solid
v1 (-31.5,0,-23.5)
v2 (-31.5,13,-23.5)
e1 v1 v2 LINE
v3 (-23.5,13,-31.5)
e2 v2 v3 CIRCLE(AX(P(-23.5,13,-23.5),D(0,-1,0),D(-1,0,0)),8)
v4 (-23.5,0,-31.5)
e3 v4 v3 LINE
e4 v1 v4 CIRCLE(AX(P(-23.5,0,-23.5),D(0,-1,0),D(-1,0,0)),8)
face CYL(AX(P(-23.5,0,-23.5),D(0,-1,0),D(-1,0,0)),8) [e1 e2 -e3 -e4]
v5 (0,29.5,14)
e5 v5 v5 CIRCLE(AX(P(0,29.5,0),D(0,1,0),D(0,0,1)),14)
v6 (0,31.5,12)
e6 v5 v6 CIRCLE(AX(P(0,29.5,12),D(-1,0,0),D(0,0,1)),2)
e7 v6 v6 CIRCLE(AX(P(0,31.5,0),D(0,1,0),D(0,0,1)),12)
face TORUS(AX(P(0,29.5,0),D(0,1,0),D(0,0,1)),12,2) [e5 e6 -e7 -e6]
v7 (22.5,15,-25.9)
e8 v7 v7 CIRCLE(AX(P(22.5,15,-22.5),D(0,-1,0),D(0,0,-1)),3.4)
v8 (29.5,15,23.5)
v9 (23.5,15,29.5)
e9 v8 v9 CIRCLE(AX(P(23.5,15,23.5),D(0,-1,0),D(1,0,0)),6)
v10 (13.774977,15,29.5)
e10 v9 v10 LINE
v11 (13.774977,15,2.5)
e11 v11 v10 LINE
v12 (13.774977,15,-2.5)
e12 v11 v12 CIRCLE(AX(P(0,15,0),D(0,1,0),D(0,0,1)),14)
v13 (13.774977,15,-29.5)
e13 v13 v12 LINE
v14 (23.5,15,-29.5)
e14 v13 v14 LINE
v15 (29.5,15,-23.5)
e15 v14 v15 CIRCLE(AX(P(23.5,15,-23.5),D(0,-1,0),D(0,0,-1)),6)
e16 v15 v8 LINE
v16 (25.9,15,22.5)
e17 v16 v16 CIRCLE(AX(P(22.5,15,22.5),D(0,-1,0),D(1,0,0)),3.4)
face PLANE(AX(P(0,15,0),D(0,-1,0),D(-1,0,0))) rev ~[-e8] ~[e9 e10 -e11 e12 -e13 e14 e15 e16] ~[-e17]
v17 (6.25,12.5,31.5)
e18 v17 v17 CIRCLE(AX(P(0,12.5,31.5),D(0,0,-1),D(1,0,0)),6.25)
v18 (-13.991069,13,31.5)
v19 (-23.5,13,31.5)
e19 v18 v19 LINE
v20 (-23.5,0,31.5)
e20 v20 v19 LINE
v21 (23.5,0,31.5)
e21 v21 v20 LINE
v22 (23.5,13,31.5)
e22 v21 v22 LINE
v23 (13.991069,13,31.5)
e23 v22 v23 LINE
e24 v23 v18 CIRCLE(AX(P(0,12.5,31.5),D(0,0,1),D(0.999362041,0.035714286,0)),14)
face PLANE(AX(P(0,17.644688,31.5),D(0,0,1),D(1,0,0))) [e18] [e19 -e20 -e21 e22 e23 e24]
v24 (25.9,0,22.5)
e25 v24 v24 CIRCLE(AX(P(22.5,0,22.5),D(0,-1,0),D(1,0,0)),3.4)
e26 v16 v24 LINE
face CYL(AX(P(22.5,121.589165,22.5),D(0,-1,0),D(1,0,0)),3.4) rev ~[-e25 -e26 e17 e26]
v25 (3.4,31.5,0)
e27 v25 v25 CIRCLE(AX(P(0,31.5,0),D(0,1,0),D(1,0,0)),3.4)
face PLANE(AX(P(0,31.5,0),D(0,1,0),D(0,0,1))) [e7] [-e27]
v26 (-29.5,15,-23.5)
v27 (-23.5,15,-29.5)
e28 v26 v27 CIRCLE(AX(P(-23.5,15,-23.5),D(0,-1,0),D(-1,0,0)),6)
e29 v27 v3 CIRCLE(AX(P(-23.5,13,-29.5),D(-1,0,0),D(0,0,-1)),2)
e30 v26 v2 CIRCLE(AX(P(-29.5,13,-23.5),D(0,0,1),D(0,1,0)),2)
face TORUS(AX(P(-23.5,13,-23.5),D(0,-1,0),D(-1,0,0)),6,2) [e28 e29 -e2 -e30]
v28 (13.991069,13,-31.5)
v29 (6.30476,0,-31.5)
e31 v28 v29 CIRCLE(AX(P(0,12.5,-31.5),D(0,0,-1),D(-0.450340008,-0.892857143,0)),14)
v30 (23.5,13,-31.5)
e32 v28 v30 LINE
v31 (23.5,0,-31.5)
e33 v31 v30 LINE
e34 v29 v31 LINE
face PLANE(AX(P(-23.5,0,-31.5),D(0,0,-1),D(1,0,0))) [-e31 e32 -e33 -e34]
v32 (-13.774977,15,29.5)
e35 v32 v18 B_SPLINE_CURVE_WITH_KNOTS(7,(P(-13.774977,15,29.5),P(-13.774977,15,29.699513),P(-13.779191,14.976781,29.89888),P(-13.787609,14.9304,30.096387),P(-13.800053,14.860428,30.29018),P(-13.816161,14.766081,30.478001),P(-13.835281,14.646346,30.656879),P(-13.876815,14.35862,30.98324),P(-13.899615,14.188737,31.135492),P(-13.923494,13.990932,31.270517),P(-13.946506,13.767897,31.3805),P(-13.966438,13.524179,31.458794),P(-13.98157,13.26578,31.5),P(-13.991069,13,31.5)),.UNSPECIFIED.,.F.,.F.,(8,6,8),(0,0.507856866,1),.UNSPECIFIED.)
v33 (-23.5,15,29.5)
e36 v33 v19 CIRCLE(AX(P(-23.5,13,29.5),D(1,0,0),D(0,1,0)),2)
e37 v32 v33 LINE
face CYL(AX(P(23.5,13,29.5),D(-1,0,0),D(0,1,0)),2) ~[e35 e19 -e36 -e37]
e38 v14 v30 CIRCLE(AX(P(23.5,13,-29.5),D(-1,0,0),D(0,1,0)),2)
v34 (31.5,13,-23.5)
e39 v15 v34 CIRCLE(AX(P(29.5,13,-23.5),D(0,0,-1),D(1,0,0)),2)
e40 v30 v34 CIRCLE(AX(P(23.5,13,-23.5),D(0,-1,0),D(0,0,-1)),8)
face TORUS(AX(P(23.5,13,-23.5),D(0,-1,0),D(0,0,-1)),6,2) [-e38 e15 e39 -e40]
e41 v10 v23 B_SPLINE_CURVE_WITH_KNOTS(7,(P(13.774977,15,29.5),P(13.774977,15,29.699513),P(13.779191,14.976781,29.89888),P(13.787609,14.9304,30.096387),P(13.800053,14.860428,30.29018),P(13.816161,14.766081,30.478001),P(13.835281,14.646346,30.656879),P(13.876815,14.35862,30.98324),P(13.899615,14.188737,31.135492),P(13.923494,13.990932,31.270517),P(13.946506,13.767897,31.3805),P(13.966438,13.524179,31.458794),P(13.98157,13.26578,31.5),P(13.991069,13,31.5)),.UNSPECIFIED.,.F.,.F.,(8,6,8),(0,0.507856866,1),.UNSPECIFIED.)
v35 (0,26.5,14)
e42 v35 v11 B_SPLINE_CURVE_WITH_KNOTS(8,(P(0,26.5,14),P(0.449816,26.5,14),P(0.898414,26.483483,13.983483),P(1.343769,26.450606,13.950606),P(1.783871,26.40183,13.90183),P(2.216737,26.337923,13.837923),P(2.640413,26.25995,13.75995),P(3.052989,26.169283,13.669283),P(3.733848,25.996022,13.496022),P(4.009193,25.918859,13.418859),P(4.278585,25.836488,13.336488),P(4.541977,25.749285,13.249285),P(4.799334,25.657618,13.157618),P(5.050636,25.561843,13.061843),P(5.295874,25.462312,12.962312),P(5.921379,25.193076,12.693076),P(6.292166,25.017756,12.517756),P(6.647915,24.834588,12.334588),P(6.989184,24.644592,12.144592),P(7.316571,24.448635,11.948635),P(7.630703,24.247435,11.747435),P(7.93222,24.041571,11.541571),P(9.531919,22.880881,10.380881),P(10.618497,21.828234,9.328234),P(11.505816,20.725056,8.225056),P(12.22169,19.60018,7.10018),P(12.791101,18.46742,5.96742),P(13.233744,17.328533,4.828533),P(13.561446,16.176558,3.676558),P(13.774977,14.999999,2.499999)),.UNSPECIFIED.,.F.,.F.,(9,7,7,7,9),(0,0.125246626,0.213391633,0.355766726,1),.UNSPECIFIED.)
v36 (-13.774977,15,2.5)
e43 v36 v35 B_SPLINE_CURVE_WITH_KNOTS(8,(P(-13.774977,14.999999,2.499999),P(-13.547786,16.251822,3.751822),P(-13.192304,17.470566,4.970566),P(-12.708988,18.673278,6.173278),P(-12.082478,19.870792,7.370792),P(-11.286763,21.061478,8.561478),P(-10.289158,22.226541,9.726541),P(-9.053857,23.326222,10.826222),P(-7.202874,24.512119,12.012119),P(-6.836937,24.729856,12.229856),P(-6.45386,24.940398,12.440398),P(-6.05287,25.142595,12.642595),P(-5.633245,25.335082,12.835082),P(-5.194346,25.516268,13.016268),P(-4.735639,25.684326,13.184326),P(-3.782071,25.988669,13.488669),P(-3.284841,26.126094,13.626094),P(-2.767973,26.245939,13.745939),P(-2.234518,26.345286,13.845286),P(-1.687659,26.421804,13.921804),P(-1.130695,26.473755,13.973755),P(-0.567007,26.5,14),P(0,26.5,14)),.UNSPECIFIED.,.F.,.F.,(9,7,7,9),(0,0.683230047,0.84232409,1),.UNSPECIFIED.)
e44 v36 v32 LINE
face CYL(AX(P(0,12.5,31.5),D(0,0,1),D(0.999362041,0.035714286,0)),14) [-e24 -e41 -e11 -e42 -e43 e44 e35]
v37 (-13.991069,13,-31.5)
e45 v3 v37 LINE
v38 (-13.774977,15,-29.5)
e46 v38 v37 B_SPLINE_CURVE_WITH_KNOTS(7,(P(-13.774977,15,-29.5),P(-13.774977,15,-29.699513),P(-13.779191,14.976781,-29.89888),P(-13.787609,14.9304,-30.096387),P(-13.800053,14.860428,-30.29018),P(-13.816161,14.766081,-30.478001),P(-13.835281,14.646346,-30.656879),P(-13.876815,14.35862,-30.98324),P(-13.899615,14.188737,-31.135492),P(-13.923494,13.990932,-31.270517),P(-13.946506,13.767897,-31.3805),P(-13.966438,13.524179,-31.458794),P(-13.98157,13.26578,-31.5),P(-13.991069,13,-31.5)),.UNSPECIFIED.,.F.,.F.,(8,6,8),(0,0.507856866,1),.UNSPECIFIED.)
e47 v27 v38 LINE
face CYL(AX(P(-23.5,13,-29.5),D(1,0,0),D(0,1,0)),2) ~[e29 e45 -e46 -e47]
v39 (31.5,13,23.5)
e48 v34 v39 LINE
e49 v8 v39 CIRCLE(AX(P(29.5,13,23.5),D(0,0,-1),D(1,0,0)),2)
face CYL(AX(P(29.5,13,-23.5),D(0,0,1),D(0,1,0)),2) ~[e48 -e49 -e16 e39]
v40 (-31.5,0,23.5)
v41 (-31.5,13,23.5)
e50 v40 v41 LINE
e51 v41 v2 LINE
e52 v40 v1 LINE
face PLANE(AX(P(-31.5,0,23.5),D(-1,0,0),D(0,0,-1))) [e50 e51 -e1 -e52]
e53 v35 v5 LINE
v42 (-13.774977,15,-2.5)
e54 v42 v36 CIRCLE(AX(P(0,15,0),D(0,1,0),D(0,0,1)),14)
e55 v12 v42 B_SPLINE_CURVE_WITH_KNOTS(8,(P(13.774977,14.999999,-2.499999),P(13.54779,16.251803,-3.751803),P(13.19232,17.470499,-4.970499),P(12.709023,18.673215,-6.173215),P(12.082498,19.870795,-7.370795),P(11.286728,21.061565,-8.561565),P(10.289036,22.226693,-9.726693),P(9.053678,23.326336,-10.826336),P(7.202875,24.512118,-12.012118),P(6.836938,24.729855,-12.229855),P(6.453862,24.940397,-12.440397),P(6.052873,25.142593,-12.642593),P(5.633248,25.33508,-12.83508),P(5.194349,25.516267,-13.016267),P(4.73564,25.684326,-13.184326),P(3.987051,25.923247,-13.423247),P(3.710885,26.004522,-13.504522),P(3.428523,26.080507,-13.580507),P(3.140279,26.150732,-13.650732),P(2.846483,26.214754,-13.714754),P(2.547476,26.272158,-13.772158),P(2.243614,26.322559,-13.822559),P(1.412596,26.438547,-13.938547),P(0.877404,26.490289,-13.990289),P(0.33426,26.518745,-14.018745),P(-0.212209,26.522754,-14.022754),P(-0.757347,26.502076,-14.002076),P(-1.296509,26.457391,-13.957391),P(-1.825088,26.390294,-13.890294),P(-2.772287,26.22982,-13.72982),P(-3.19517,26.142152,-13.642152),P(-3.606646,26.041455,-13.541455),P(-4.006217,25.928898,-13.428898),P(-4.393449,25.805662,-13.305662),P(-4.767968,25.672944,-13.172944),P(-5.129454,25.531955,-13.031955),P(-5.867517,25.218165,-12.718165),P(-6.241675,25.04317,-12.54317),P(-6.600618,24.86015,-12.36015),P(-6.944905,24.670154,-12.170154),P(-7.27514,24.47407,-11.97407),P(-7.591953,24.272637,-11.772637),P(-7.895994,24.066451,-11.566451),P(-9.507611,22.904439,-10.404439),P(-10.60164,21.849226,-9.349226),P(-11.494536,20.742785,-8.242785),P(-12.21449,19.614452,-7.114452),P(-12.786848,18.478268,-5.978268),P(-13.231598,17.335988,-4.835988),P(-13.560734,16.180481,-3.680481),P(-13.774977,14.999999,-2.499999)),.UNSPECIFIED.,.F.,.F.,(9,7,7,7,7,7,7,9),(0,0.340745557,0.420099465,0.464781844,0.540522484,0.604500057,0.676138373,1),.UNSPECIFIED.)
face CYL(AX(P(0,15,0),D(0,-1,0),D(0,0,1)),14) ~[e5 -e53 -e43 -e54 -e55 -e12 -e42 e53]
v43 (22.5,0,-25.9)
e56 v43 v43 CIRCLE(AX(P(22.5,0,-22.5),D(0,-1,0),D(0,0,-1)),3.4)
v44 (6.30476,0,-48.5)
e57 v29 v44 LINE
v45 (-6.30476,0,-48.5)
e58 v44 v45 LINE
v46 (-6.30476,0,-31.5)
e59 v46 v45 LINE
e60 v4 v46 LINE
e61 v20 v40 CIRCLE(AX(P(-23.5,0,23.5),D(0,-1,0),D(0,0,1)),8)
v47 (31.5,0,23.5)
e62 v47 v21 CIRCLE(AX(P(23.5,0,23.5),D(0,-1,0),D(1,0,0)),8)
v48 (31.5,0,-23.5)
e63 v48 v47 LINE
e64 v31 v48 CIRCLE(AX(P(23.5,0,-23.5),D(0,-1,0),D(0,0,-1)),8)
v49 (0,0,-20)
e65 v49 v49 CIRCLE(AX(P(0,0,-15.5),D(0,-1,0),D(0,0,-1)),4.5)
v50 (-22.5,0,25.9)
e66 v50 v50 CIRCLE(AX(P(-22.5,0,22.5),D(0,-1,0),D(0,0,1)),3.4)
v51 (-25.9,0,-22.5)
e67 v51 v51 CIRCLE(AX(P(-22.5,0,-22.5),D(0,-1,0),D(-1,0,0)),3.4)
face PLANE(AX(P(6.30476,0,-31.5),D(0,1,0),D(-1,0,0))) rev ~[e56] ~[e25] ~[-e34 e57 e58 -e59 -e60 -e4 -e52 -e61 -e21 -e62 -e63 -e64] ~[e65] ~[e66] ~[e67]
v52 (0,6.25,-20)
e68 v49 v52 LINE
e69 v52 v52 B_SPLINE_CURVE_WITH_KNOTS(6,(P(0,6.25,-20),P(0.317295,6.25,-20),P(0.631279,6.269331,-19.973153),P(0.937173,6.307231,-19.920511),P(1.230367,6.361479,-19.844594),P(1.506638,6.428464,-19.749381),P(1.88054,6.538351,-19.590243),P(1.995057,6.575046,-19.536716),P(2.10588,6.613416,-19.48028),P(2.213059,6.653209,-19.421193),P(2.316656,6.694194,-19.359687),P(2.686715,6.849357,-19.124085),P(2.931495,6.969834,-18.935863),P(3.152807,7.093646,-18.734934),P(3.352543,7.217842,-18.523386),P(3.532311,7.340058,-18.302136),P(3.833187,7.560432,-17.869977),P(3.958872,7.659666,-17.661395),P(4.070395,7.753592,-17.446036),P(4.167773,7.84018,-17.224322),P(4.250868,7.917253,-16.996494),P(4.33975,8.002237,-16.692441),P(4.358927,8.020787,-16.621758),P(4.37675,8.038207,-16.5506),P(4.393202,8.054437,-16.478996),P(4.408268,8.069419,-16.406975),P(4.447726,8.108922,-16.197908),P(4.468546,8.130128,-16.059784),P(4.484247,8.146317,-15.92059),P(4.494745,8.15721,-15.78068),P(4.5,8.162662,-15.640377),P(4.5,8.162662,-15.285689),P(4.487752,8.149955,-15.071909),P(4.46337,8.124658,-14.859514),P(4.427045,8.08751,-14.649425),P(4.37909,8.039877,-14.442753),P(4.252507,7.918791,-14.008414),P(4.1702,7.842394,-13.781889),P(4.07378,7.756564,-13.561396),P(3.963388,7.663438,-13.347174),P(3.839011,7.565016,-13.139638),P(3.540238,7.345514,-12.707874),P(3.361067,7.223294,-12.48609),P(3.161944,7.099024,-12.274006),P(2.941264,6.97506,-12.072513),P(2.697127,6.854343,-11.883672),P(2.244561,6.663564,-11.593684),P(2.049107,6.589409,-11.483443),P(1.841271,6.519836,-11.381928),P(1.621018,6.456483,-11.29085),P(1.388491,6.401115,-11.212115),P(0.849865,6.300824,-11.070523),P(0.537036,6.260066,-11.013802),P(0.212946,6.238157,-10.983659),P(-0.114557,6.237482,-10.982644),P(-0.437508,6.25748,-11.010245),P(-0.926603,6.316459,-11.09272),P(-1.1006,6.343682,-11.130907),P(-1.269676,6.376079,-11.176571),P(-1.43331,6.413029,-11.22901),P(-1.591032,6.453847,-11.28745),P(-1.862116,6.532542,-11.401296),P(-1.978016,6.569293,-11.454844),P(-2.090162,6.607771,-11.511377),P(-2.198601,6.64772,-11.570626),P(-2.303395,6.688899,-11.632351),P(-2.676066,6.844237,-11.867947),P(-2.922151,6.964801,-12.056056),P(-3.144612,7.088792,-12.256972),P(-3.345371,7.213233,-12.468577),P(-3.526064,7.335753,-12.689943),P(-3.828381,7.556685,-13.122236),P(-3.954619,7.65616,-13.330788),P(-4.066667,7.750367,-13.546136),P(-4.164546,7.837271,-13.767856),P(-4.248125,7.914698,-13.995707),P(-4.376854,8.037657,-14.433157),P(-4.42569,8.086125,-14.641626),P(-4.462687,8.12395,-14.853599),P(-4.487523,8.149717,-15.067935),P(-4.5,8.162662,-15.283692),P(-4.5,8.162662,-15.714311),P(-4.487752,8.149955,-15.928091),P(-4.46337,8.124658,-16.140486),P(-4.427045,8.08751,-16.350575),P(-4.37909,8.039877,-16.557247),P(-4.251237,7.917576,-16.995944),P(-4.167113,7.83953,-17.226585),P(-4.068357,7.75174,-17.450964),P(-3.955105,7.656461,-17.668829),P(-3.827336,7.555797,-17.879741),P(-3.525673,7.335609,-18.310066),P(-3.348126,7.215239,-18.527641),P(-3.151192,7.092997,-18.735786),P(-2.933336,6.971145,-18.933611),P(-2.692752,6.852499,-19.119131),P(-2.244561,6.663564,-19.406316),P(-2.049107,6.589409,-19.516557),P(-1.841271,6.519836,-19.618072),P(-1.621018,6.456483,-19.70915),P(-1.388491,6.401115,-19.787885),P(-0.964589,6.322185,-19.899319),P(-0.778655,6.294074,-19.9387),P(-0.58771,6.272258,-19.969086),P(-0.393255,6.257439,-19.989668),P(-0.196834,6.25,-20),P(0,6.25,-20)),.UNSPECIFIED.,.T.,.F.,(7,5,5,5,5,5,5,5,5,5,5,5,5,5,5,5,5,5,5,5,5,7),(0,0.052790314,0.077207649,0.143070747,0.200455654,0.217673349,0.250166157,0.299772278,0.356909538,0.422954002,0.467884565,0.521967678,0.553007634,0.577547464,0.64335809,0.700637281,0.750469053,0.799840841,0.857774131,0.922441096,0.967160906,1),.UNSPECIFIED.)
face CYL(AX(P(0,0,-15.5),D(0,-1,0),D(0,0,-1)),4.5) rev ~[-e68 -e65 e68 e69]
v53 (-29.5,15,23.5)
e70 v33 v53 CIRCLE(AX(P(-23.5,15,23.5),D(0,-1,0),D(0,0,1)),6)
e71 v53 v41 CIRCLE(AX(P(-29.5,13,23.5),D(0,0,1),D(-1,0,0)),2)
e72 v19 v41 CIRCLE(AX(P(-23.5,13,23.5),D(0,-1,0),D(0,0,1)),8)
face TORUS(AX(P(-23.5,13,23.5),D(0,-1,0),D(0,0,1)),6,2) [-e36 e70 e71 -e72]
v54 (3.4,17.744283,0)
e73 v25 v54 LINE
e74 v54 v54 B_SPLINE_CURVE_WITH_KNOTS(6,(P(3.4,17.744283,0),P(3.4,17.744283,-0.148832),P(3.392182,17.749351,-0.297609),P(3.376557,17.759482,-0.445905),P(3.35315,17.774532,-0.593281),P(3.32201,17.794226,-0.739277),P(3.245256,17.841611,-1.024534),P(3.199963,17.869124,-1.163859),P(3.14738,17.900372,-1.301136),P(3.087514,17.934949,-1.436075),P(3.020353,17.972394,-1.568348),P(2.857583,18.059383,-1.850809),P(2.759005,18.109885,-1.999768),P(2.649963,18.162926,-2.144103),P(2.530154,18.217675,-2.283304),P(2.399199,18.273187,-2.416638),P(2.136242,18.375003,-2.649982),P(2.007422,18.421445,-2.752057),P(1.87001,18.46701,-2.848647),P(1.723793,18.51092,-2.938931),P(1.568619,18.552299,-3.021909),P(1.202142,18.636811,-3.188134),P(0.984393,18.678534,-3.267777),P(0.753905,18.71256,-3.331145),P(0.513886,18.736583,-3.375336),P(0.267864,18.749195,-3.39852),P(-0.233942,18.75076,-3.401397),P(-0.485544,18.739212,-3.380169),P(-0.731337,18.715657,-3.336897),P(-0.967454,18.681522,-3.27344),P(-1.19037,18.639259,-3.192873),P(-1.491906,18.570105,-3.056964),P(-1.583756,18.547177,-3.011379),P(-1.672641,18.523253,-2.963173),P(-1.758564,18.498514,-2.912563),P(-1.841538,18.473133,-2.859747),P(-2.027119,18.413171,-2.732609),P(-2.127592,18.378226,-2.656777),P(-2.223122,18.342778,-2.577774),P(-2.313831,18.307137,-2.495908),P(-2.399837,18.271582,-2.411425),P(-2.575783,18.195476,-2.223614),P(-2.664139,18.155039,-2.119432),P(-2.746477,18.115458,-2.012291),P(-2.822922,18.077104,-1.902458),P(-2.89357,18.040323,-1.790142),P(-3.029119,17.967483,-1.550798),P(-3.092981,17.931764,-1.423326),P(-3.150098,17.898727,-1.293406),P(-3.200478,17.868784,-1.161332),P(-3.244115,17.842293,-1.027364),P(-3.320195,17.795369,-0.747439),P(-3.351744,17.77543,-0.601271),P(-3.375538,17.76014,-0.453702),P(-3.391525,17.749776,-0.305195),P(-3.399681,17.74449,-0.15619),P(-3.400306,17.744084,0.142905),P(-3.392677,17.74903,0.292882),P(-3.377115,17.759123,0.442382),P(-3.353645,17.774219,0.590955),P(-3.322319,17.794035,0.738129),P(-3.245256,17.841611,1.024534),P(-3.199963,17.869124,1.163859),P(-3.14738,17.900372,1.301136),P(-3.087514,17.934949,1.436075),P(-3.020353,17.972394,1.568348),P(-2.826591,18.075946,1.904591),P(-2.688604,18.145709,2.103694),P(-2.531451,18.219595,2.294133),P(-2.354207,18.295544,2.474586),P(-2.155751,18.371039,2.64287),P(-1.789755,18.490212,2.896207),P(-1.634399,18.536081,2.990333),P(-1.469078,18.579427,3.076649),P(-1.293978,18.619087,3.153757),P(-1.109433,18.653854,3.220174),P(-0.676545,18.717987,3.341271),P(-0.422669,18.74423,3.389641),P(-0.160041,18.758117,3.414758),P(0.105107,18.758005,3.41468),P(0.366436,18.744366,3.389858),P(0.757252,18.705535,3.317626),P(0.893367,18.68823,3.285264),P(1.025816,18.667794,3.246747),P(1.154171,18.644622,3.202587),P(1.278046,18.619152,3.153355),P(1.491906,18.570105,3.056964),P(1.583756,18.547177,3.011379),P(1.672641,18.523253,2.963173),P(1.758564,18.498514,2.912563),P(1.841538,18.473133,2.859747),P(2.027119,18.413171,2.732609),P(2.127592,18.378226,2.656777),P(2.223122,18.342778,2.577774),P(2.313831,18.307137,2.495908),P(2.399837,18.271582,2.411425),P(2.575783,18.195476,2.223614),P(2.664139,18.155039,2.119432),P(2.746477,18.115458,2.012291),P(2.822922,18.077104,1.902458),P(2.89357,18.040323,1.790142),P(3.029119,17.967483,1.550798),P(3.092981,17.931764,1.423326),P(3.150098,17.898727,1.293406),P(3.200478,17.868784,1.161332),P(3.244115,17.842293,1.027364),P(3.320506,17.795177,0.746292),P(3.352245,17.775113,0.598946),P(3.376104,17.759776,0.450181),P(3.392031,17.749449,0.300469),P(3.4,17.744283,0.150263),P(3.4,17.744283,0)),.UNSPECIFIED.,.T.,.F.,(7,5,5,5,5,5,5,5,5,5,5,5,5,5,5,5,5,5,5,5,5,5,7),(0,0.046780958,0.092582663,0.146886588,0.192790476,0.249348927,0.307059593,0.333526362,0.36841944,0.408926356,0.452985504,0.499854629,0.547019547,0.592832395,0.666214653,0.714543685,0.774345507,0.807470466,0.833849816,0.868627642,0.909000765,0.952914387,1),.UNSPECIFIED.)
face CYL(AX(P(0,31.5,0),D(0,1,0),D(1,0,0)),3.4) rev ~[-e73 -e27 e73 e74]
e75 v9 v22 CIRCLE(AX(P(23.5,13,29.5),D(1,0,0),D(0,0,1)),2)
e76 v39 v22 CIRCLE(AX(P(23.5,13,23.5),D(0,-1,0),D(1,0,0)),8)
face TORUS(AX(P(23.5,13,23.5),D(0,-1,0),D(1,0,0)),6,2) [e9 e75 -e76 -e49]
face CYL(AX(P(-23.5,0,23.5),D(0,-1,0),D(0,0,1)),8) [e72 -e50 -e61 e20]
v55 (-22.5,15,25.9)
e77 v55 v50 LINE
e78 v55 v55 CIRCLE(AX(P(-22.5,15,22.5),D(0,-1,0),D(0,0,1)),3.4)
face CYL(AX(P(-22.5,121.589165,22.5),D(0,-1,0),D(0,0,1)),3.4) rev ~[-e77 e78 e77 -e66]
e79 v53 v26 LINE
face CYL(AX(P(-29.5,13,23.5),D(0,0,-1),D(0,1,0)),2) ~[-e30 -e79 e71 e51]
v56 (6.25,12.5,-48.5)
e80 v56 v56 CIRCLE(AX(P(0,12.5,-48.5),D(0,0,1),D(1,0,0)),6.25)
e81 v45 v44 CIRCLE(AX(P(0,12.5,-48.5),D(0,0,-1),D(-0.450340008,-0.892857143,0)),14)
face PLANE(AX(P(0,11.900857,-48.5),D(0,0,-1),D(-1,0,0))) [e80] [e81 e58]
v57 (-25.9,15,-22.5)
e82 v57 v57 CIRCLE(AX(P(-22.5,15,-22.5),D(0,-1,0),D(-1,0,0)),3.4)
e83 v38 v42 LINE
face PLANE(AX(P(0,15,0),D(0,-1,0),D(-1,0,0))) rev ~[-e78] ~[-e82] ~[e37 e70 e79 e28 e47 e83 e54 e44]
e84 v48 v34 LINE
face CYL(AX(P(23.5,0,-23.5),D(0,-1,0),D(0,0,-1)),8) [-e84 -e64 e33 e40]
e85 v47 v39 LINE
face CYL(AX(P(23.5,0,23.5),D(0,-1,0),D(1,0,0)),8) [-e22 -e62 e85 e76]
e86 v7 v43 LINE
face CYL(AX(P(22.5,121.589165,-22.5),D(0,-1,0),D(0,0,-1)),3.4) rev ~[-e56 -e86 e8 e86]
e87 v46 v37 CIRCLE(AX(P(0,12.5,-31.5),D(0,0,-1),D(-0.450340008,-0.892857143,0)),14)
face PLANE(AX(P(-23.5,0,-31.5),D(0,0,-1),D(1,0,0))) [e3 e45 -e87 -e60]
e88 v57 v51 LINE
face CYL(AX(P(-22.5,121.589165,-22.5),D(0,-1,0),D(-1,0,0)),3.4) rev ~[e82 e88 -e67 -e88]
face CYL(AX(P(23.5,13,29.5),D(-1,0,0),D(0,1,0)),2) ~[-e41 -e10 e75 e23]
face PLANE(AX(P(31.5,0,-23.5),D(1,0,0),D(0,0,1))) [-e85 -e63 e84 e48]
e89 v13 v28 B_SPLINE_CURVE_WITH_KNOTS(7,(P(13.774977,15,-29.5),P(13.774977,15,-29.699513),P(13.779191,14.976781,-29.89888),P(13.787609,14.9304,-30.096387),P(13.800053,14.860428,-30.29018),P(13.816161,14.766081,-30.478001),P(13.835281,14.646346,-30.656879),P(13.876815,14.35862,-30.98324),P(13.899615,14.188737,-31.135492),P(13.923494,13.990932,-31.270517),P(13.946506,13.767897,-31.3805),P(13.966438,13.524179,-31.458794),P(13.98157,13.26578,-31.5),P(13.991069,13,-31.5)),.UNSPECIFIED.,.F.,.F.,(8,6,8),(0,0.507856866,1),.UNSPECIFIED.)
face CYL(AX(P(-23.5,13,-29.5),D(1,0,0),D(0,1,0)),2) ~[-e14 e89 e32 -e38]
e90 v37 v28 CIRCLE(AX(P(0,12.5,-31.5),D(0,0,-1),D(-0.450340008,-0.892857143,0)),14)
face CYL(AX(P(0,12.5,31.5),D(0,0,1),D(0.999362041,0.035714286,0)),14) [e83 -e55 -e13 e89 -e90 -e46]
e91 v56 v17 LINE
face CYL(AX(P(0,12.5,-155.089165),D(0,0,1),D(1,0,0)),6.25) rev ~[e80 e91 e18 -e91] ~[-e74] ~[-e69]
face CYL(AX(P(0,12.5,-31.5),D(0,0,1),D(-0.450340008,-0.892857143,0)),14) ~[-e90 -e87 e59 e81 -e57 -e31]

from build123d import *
from build123d.topology import SkipClean

# Parameters (mm, degrees)
EXTRUDE_1_DEPTH          = 15
SKETCH_2_R               = 14
EXTRUDE_2_DEPTH          = 16.5
FILLET_1_R               = 2
EXTRUDE_3_DEPTH          = 17
EXTRUDE_START            = 63
EXTRUDE_4_DEPTH          = 63
M14X1_5_1_D              = 12.5
HOLE_WIZARD_M8_1_REACH   = 67.854
HOLE_WIZARD_M8_1_BORE_R  = 3.4
CUT_EXTRUDE_1_REACH      = 67.854
CUT_EXTRUDE_1_END_RADIUS = 6.25
SKETCH_9_R               = 4.5
HOLE_WIZARD_M8_2_D       = 6.8
PATTERN_CIRCULAR_1_COUNT = 4


with BuildPart() as part:
    # 草图1 → 凸台-拉伸1 (new body)
    with BuildSketch(Plane(origin=(0, 0, 0), x_dir=(1, 0, 0), z_dir=(0, 1, 0))):
        with BuildLine():
            Line((-23.5, 31.5), (23.5, 31.5))
            ThreePointArc((23.5, 31.5), (29.156854249, 29.156854249), (31.5, 23.5))
            Line((31.5, 23.5), (31.5, -23.5))
            ThreePointArc((31.5, -23.5), (29.156854249, -29.156854249), (23.5, -31.5))
            Line((23.5, -31.5), (-23.5, -31.5))
            ThreePointArc((-23.5, -31.5), (-29.156854249, -29.156854249), (-31.5, -23.5))
            Line((-31.5, -23.5), (-31.5, 23.5))
            ThreePointArc((-31.5, 23.5), (-29.156854249, 29.156854249), (-23.5, 31.5))
        make_face()
    extrude(amount=EXTRUDE_1_DEPTH)

    # 草图2 → 凸台-拉伸2 (add)
    with BuildSketch(Plane(origin=(0, 15, 0), x_dir=(1, 0, 0), z_dir=(0, 1, 0))):
        with Locations(Location((0, 0, 0), (0, 0, 270))):
            Circle(SKETCH_2_R)
    extrude(amount=EXTRUDE_2_DEPTH)

    # 圆角1
    fillet_1_edges = [part.edges().sort_by_distance(p)[0] for p in [
        (29.156854249, 15, 29.156854249),
        (31.5, 15, 0),
        (29.156854249, 15, -29.156854249),
        (0, 15, -31.5),
        (0, 31.5, -14),
        (-29.156854249, 15, -29.156854249),
        (-31.5, 15, 0),
        (-29.156854249, 15, 29.156854249),
        (0, 15, 31.5),
    ]]
    fillet(fillet_1_edges, radius=FILLET_1_R)

    # 草图3 → 凸台-拉伸3 (add)
    with BuildSketch(Plane(origin=(0, 0, -31.5), x_dir=(-1, 0, 0), z_dir=(0, 0, -1))):
        with BuildLine():
            Line((-6.304760106, 0), (6.304760106, 0))
            ThreePointArc((6.304760106, 0), (0, 26.5), (-6.304760106, 0))
        make_face()
    extrude(amount=EXTRUDE_3_DEPTH)

    # 草图4 → 凸台-拉伸4 (add)
    with SkipClean():  # the faces are left unmerged after this step: merging them gives an invalid solid
        with BuildSketch(Plane.XY.offset(-31.5).offset(EXTRUDE_START)):
            with BuildLine():
                Line((-13.99106858, 13), (13.99106858, 13))
                ThreePointArc((13.99106858, 13), (0, 26.5), (-13.99106858, 13))
            make_face()
        extrude(amount=-EXTRUDE_4_DEPTH)

    # M14x1.5 螺纹孔1 (through all)
    with Locations(Plane(origin=(0, 0, -48.5), x_dir=(-1, 0, 0), z_dir=(0, 0, -1))):
        with Locations((0, 12.5)):
            Hole(M14X1_5_1_D / 2)

    # M8 螺纹孔1 bore → M8 螺纹孔1 (cut, up to next)
    with BuildSketch(Plane(origin=(0, 31.5, 0), x_dir=(1, 0, 0), z_dir=(0, 1, 0)), mode=Mode.PRIVATE) as hole_wizard_m8_1_sk1:
        Circle(HOLE_WIZARD_M8_1_BORE_R)
    hole_wizard_m8_1_tool1 = extrude(hole_wizard_m8_1_sk1.sketch, amount=-HOLE_WIZARD_M8_1_REACH, mode=Mode.PRIVATE) & part.part
    add(hole_wizard_m8_1_tool1.solids().sort_by_distance((0, 31.5, 0))[0], mode=Mode.SUBTRACT)

    # 切除-拉伸1: up to this cylinder (the profile starts outside it)
    with SkipClean():  # the faces are left unmerged after this step: merging them gives an invalid solid
        cut_extrude_1_end = Plane(origin=(0, 12.5, -15.5), z_dir=(0, 0, -1)) * Cylinder(CUT_EXTRUDE_1_END_RADIUS, 149.208, mode=Mode.PRIVATE)
        # 草图9 → 切除-拉伸1 (cut, up to the surface)
        with BuildSketch(Plane.XZ, mode=Mode.PRIVATE) as cut_extrude_1_sk1:
            with Locations(Location((0, -15.5, 0), (0, 0, 270))):
                Circle(SKETCH_9_R)
        cut_extrude_1_tool1 = extrude(cut_extrude_1_sk1.sketch, amount=-CUT_EXTRUDE_1_REACH, mode=Mode.PRIVATE) - cut_extrude_1_end
        add(cut_extrude_1_tool1.solids().sort_by_distance((0, 0, -15.5))[0], mode=Mode.SUBTRACT)

    # M8 螺纹孔2 (through all)
    with Locations(Plane(origin=(0, 15, 0), x_dir=(1, 0, 0), z_dir=(0, 1, 0))):
        with Locations((-22.5, 22.5)):
            hole_wizard_m8_2 = Hole(HOLE_WIZARD_M8_2_D / 2)

    # 阵列(圆周)1: M8 螺纹孔2 ×4 about axis
    with SkipClean():  # the faces are left unmerged after this step: merging them gives an invalid solid
        pattern_circular_1_axis = Axis((0, 0, 0), (0, 1, 0))
        for i in range(1, PATTERN_CIRCULAR_1_COUNT):
            add(hole_wizard_m8_2.rotate(pattern_circular_1_axis, i * 360 / PATTERN_CIRCULAR_1_COUNT), mode=Mode.SUBTRACT)


solid = part.part
